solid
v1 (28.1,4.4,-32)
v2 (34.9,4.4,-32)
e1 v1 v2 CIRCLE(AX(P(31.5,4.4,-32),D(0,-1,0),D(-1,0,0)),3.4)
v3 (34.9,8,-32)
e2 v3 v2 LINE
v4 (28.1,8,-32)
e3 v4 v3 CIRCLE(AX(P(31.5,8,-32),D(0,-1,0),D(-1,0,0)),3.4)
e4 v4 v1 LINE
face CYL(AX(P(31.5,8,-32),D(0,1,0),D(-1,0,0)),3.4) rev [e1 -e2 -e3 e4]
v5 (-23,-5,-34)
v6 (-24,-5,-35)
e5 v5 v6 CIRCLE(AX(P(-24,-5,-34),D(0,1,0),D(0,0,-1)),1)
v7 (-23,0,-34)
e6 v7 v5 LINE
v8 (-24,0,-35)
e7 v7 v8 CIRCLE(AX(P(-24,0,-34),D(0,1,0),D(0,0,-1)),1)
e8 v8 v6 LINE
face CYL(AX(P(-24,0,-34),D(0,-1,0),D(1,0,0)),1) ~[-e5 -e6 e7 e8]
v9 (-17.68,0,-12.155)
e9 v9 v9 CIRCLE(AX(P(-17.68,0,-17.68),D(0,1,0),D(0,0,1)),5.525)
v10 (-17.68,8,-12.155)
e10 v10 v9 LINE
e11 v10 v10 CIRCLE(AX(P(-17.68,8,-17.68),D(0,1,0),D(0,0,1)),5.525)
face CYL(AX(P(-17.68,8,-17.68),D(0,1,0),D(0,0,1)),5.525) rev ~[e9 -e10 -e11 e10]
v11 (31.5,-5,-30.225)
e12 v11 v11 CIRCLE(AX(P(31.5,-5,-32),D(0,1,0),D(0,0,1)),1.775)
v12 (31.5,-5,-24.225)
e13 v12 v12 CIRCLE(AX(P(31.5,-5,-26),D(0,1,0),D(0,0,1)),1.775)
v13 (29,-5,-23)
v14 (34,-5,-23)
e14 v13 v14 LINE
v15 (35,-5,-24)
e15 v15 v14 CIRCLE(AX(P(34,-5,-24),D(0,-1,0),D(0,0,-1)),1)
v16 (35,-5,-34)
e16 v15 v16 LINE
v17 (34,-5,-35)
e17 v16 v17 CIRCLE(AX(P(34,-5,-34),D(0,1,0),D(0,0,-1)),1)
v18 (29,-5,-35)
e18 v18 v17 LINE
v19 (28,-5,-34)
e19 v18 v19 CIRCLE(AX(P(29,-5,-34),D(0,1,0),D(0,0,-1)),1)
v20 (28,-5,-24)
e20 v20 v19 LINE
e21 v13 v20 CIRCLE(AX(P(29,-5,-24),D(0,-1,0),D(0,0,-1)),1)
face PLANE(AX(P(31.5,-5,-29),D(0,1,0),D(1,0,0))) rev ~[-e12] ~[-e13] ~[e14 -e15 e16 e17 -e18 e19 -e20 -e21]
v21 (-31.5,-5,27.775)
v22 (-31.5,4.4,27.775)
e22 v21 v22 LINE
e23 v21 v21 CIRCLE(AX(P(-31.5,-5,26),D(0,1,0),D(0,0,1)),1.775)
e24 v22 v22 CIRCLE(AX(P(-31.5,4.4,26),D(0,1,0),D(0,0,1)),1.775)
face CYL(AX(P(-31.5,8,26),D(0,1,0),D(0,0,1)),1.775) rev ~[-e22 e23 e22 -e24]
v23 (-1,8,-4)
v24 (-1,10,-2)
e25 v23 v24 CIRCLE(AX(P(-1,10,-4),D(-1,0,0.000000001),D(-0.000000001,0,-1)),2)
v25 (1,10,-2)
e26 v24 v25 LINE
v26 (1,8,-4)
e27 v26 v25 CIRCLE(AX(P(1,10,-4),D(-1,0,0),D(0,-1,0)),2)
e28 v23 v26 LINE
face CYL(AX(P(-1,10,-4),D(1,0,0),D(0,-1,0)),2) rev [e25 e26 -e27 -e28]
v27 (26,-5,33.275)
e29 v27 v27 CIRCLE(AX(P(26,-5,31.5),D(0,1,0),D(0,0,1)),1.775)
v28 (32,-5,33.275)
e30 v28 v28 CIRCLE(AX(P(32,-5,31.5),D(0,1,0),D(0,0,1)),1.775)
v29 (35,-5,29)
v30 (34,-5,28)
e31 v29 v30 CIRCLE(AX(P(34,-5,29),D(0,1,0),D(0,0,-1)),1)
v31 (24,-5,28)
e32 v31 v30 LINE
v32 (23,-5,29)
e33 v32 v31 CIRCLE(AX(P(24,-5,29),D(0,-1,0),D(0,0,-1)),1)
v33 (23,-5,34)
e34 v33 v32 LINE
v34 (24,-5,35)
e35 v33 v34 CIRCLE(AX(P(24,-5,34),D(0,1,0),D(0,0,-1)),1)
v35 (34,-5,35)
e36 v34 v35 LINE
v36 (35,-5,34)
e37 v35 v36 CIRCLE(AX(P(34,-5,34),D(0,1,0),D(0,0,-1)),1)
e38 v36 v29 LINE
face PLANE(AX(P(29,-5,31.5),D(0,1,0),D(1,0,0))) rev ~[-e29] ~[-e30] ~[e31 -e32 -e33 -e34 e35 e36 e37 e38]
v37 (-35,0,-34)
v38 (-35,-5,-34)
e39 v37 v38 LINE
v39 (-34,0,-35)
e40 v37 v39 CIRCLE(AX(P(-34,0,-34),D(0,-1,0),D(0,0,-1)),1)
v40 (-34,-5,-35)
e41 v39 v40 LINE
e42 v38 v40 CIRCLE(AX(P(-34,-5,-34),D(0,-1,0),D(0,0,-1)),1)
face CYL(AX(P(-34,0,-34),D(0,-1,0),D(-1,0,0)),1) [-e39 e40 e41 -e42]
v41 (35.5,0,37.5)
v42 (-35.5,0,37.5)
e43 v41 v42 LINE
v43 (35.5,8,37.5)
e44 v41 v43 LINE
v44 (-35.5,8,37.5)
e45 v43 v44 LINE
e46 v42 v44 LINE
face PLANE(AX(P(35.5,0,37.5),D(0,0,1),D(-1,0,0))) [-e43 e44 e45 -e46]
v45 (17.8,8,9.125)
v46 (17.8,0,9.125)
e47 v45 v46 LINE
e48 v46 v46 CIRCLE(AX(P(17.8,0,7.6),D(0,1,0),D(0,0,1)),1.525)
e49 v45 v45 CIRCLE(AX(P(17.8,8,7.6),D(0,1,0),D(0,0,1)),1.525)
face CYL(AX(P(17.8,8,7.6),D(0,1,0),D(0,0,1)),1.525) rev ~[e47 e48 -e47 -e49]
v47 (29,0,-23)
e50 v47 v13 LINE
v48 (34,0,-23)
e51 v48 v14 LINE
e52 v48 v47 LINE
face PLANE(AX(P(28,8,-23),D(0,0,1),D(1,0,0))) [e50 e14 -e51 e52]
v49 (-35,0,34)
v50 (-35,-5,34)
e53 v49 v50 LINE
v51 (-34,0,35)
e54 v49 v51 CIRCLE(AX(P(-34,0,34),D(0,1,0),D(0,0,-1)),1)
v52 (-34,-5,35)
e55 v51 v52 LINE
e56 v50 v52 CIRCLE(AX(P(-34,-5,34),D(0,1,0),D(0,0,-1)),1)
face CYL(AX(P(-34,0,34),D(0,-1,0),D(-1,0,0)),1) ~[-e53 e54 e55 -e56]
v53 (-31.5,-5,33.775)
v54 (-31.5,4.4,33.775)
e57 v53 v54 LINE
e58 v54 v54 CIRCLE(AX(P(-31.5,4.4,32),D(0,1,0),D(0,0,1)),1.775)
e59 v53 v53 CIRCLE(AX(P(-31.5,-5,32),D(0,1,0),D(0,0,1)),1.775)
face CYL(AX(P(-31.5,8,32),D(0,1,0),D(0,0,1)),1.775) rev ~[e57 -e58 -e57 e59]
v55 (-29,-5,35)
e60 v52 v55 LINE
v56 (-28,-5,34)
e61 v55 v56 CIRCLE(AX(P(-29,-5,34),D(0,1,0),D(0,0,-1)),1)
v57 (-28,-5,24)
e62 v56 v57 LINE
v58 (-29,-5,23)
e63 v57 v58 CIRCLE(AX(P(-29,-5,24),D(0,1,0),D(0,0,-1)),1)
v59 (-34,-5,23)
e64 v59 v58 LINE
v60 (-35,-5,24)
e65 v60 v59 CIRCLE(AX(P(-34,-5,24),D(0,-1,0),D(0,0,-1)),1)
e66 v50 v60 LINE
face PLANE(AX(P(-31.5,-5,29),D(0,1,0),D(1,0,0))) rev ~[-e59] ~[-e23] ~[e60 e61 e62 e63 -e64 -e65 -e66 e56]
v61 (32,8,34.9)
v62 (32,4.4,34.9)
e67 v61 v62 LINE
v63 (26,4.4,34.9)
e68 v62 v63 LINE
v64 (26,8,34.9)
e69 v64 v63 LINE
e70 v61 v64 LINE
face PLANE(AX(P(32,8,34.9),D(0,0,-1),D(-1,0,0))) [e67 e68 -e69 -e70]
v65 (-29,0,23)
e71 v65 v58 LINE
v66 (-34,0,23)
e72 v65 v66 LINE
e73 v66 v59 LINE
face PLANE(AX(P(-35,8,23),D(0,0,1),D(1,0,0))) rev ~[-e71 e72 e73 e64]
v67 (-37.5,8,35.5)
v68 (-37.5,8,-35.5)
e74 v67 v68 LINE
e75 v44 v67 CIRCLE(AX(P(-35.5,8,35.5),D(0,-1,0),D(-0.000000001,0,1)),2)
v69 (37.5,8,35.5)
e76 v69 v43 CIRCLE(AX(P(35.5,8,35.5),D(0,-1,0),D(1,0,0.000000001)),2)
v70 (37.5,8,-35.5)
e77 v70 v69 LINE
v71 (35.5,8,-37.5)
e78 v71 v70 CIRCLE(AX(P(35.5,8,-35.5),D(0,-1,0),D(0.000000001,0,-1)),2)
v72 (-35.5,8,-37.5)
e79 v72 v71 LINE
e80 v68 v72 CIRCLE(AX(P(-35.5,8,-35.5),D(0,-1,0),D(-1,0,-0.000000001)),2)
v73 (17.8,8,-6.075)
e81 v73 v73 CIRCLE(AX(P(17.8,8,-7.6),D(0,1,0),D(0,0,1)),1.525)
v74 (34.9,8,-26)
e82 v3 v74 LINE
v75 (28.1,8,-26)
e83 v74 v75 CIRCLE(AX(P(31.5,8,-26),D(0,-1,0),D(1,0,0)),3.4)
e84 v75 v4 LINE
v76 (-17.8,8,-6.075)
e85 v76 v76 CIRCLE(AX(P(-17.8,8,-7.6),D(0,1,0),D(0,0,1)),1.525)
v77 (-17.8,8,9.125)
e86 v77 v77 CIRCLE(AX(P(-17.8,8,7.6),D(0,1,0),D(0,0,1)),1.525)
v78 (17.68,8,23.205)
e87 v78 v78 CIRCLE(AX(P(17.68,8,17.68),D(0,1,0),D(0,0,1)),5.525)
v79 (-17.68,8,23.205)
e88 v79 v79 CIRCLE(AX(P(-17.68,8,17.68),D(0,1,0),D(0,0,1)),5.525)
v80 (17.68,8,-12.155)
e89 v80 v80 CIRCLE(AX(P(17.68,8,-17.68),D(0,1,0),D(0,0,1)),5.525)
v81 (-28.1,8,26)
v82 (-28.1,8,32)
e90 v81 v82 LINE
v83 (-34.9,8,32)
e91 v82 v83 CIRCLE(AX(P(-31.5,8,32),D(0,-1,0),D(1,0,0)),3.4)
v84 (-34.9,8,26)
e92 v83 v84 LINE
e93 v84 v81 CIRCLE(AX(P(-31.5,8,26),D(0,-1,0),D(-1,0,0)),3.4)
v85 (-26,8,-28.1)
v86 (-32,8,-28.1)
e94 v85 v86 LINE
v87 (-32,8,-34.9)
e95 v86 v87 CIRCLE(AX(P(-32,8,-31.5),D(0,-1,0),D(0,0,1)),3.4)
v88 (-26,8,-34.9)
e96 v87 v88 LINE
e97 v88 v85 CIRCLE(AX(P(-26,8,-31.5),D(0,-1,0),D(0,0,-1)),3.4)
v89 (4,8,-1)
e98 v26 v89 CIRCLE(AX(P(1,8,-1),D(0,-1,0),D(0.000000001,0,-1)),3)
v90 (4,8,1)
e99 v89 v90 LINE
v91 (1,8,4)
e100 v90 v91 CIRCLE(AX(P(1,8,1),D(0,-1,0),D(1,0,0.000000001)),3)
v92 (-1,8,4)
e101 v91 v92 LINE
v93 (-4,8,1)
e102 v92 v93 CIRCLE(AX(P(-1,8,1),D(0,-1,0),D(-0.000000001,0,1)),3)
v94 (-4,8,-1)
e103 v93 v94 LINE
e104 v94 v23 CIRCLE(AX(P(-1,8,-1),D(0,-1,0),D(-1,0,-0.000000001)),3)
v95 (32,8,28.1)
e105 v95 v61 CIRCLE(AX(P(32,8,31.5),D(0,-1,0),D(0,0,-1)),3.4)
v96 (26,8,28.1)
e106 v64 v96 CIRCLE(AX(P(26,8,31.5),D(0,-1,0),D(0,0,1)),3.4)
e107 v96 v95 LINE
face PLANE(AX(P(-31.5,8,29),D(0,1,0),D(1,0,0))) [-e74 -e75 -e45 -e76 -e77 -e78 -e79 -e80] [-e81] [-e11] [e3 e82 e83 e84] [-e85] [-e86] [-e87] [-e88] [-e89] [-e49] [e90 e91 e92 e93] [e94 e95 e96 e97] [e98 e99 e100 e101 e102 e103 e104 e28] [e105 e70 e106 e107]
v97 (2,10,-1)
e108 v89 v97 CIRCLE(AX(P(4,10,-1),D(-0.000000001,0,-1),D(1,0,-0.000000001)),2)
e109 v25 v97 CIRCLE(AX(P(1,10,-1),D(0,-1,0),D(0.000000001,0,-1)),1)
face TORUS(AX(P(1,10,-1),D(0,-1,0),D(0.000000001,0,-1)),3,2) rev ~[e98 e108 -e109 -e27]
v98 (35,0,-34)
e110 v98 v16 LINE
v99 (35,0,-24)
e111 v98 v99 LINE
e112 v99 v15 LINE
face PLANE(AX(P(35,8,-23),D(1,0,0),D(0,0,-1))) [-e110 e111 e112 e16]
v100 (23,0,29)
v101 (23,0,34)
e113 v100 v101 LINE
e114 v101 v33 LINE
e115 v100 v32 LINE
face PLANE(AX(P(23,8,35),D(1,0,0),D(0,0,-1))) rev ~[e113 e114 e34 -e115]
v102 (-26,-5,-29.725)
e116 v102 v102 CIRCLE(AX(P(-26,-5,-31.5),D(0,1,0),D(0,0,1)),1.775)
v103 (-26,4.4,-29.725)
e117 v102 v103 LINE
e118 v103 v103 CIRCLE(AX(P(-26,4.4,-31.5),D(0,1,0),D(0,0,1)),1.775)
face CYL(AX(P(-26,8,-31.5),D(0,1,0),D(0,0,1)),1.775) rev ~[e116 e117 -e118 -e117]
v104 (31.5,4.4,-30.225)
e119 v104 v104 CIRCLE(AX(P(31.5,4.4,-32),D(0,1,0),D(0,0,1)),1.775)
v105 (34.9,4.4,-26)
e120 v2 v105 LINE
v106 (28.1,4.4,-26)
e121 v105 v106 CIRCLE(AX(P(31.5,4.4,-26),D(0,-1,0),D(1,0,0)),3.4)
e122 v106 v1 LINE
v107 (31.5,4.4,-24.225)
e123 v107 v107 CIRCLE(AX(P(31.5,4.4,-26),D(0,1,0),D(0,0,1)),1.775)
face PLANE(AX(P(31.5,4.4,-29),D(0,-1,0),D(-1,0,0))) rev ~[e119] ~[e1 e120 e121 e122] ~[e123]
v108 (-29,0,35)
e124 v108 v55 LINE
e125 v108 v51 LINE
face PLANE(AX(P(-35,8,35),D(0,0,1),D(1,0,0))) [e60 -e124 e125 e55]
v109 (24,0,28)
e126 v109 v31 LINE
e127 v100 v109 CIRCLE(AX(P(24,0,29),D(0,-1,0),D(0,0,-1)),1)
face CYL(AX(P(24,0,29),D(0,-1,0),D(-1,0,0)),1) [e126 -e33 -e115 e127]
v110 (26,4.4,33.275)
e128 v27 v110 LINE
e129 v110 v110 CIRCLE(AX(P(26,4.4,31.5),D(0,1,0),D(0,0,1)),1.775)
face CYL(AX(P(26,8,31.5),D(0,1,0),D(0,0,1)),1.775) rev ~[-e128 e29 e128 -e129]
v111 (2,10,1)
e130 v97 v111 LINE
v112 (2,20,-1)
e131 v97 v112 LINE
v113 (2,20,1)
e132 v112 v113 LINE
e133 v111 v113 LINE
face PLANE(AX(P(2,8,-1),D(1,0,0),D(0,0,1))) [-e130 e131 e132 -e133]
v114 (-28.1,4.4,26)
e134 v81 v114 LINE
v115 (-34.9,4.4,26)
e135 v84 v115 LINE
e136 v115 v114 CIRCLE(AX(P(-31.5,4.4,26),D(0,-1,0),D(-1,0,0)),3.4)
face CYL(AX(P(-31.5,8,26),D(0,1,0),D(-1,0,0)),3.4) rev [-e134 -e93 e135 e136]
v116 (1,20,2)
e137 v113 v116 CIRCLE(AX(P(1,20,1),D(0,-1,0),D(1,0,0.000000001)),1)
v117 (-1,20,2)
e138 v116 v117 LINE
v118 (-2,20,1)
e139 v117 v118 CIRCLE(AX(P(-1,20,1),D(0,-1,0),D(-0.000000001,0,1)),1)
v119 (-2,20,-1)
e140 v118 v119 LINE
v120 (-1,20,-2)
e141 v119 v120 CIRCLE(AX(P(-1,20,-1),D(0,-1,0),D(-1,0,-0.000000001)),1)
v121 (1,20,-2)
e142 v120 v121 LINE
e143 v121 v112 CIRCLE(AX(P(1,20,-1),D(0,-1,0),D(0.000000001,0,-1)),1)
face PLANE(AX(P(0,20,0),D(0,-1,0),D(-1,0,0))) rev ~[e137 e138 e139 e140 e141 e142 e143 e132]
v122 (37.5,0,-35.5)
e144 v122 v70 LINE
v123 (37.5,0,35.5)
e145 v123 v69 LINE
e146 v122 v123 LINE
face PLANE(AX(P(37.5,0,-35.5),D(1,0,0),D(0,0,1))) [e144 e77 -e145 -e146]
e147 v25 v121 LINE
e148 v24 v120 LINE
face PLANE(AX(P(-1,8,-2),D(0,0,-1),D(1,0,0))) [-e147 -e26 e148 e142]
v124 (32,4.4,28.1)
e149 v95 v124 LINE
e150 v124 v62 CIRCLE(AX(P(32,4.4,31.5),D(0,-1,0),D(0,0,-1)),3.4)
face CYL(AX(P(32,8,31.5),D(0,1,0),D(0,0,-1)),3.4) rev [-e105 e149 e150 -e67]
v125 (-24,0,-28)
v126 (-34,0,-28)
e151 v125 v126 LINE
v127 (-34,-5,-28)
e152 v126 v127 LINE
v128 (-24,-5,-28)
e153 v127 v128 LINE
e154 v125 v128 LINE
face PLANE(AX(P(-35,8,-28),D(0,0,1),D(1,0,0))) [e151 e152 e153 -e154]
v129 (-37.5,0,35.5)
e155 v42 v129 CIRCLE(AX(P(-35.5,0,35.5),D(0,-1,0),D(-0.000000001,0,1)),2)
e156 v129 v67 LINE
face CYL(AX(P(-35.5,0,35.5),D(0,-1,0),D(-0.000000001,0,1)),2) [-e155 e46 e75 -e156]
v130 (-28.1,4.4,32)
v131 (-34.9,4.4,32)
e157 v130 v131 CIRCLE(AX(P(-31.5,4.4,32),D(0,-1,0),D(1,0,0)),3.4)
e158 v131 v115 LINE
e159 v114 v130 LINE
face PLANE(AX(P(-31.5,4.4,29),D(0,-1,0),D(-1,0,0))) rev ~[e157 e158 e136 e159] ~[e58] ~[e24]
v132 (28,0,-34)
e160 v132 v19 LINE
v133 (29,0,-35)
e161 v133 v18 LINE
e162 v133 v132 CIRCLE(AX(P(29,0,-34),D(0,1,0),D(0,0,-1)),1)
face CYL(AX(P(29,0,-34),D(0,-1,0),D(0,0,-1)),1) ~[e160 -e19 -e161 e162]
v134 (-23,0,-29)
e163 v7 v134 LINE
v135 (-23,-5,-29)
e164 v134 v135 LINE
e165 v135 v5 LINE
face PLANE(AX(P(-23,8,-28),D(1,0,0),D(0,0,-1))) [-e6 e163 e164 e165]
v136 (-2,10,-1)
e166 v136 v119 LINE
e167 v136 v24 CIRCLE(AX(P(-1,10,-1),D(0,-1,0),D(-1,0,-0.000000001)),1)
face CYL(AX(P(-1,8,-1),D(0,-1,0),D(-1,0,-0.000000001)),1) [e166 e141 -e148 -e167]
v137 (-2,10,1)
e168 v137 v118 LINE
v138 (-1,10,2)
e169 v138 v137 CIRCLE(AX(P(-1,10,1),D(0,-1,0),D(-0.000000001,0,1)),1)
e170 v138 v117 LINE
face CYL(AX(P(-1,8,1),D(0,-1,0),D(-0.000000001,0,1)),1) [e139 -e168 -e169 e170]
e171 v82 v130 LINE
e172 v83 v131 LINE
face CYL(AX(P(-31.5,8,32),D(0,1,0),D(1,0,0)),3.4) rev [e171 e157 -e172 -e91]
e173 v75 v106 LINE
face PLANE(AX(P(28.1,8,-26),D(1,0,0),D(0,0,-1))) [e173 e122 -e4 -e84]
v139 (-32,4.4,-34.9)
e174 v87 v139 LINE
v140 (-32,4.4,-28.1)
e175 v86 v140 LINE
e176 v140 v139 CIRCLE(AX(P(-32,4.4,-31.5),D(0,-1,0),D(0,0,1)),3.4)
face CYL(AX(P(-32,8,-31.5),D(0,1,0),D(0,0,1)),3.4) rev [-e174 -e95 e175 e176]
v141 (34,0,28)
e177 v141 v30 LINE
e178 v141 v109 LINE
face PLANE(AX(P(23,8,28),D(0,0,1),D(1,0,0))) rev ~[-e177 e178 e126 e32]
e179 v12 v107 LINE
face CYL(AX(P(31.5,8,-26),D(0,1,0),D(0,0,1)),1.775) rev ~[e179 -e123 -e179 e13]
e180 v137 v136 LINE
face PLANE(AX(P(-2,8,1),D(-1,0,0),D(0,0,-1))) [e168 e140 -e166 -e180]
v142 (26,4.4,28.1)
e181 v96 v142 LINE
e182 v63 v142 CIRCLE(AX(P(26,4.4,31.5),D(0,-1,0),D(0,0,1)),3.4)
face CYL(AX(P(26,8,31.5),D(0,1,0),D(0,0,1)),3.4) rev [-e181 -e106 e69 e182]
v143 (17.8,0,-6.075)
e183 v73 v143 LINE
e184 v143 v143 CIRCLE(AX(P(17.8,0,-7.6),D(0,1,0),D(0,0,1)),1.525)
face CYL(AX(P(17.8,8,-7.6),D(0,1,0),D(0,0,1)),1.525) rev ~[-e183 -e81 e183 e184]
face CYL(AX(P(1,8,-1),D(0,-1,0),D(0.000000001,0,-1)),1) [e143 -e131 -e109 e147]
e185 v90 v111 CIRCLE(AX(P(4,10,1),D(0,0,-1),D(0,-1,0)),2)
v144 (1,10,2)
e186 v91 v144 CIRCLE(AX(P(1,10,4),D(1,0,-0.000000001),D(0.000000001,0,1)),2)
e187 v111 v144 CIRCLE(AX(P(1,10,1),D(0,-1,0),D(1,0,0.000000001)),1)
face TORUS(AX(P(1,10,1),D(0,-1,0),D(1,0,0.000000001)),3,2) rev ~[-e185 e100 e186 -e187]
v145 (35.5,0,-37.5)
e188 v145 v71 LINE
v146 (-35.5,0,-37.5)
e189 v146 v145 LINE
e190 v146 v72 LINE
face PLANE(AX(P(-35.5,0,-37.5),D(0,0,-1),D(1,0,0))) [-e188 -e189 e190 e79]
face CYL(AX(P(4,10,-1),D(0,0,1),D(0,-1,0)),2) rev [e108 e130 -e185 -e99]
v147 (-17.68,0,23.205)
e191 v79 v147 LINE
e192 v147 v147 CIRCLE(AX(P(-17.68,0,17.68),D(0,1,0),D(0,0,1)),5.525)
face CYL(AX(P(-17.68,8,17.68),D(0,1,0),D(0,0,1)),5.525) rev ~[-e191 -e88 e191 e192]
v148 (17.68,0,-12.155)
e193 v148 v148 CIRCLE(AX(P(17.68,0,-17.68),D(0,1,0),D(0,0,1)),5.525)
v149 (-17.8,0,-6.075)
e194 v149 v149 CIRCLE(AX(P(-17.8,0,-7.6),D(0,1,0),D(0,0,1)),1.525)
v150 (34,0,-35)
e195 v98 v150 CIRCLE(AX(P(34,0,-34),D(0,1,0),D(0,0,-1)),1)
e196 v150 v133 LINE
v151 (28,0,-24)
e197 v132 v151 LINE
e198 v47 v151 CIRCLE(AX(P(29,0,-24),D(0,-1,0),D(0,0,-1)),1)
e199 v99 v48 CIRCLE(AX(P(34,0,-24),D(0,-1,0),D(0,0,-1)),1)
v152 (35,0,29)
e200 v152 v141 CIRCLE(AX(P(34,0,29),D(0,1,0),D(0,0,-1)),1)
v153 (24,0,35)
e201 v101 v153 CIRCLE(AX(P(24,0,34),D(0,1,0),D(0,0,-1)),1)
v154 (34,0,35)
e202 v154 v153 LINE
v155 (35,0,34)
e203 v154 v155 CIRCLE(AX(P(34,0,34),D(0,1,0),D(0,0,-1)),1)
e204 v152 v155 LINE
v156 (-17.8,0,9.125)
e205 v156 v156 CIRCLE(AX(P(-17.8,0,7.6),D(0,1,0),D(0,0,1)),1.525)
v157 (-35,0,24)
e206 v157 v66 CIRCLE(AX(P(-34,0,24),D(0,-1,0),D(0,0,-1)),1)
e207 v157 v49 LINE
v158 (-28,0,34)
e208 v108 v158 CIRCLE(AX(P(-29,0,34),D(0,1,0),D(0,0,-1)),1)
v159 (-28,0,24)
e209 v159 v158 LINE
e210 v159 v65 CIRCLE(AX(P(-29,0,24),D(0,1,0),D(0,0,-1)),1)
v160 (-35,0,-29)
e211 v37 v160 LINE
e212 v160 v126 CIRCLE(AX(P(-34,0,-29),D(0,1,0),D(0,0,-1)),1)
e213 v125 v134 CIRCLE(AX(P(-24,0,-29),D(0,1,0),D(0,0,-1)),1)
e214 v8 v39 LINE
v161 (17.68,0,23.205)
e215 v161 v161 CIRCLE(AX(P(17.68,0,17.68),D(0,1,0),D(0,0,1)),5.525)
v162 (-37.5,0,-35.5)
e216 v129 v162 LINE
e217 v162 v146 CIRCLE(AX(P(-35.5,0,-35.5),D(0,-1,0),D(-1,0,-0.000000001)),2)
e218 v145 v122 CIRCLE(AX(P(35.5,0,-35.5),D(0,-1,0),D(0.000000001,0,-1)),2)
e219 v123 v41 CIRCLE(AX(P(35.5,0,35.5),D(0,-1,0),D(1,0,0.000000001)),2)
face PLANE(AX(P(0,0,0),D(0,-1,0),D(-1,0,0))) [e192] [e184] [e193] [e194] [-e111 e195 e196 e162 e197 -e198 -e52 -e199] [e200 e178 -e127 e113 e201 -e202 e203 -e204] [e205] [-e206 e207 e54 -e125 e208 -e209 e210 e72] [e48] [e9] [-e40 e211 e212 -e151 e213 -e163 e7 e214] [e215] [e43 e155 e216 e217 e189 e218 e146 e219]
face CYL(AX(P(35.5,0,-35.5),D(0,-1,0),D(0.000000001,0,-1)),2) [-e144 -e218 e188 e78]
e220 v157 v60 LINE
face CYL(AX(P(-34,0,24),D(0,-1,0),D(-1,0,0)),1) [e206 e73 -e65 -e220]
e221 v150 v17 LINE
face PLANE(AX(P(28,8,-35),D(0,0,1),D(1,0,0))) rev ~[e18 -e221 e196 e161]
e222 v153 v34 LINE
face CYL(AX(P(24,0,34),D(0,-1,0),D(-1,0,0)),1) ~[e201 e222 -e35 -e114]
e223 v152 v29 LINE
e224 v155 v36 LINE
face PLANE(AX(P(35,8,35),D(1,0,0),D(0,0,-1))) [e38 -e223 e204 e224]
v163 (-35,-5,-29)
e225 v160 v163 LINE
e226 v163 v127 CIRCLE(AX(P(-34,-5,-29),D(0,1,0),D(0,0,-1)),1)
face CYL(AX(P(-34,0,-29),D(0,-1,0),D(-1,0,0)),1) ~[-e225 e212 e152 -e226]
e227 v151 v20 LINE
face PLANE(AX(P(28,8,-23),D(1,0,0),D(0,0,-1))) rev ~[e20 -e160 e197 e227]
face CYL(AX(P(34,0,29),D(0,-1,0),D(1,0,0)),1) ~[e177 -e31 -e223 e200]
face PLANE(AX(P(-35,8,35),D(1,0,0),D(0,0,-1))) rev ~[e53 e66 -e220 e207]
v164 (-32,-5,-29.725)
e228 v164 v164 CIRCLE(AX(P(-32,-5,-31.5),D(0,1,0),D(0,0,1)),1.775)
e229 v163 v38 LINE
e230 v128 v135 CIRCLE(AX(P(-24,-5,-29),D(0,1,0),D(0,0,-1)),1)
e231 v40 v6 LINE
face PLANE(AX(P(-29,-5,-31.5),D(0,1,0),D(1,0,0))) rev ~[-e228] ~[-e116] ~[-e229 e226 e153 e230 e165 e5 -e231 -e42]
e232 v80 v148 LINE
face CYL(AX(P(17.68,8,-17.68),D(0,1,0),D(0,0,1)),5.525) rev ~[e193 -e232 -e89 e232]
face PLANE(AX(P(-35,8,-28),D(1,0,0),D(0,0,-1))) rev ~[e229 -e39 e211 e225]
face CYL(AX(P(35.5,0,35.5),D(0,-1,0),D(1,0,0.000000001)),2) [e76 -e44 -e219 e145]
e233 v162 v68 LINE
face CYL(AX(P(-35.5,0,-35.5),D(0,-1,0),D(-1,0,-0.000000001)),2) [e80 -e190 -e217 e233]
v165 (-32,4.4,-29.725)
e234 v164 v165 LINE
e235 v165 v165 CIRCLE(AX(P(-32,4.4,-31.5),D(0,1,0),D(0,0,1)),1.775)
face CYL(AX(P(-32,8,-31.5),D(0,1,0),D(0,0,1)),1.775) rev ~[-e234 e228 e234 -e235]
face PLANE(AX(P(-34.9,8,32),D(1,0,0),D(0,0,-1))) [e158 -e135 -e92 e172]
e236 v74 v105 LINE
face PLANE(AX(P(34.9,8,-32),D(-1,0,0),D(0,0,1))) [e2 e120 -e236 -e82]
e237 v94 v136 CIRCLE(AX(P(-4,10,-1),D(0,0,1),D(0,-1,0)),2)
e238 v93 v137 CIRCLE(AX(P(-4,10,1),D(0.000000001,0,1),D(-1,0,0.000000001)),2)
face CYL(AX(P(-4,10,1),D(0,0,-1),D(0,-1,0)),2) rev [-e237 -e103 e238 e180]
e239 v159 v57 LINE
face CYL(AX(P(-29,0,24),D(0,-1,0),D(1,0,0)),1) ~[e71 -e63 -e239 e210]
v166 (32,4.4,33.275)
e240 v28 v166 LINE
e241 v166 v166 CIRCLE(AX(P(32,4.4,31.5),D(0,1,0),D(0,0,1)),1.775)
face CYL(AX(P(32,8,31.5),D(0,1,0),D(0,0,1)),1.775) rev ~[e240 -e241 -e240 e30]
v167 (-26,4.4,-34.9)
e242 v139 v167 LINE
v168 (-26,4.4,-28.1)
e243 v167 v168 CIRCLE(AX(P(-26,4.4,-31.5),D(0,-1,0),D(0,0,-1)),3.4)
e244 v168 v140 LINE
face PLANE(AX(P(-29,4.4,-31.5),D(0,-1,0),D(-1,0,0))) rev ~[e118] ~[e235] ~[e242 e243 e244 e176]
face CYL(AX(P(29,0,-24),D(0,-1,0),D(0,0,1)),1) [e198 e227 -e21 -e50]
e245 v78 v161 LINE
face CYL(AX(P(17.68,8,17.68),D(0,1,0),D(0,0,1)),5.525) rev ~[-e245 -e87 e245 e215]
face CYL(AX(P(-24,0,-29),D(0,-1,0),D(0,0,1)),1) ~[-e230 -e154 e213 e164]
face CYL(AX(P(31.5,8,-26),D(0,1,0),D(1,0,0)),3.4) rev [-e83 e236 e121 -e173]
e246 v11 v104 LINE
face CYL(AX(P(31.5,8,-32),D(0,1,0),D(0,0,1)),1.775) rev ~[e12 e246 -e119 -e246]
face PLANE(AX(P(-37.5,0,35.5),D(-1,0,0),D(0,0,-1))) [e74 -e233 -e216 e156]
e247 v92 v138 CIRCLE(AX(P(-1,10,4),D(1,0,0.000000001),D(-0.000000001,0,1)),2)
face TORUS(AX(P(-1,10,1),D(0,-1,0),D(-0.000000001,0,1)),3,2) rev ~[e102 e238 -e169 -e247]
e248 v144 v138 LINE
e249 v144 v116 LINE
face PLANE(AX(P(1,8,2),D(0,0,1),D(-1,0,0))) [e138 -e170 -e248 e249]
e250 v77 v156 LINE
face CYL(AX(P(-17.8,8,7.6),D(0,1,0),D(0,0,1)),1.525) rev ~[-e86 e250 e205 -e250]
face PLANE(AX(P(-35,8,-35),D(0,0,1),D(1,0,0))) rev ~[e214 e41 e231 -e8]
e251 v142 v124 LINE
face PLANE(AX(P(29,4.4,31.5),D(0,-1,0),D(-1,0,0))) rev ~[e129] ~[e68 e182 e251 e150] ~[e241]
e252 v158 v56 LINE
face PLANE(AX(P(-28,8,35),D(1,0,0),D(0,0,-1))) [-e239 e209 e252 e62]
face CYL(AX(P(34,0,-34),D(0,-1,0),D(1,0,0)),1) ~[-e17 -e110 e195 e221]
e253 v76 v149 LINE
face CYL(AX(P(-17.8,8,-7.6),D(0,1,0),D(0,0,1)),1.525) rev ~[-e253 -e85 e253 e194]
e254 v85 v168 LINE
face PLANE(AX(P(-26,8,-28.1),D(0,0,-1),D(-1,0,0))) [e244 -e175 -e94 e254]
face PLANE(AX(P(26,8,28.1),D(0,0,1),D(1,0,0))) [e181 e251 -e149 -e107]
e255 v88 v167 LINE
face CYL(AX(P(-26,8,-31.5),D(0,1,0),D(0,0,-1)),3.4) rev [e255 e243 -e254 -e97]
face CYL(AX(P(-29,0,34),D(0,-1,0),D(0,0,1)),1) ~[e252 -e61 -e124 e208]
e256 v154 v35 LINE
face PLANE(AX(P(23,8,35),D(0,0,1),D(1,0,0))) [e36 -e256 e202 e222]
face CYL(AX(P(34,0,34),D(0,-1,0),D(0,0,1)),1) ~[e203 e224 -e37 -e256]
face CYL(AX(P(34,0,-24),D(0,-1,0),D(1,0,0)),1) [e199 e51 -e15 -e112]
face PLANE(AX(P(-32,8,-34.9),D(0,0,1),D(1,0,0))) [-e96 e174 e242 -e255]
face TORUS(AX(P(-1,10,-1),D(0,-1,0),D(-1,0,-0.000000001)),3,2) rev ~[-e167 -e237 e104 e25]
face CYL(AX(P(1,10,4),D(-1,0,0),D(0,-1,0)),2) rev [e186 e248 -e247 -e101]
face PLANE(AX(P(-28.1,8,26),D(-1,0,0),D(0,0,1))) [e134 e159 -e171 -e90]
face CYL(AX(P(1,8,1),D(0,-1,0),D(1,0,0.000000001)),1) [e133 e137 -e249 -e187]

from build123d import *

# Parameters (mm, degrees)
BOSS_EXTRUDE1_DEPTH = 8
SKETCH2_W           = 7
SKETCH2_H           = 12
SKETCH2_R           = 1.775
SKETCH2_W_2         = 12
SKETCH2_H_2         = 7
BOSS_EXTRUDE2_DEPTH = 13
SKETCH7_R           = 1.775
CUT_EXTRUDE1_DEPTH  = 55.603113464
FILLET1_R           = 1
SKETCH9_R           = 1.525
CUT_EXTRUDE3_DEPTH  = 55.603113464
CUT_EXTRUDE4_DEPTH  = 3.6
SKETCH12_R          = 5.525
CUT_EXTRUDE5_DEPTH  = 55.603113464
BOSS_EXTRUDE3_DEPTH = 12
FILLET2_R           = 2


with BuildPart() as part:
    # Sketch1 → Boss-Extrude1 (new body)
    with BuildSketch(Plane(origin=(0, 0, 0), x_dir=(1, 0, 0), z_dir=(0, 1, 0))):
        with BuildLine():
            Line((35.5, -37.5), (-35.5, -37.5))
            ThreePointArc((-35.5, -37.5), (-36.914213562, -36.914213562), (-37.5, -35.5))
            Line((-37.5, -35.5), (-37.5, 35.5))
            ThreePointArc((-37.5, 35.5), (-36.914213562, 36.914213562), (-35.5, 37.5))
            Line((-35.5, 37.5), (35.5, 37.5))
            ThreePointArc((35.5, 37.5), (36.914213562, 36.914213562), (37.5, 35.5))
            Line((37.5, 35.5), (37.5, -35.5))
            ThreePointArc((37.5, -35.5), (36.914213562, -36.914213562), (35.5, -37.5))
        make_face()
    extrude(amount=BOSS_EXTRUDE1_DEPTH)

    # Sketch2 → Boss-Extrude2 (add)
    # profile 1 of 4: a face of its own
    with BuildSketch(Plane(origin=(0, 8, 0), x_dir=(1, 0, 0), z_dir=(0, 1, 0))):
        with Locations((-31.5, -29)):
            Rectangle(SKETCH2_W, SKETCH2_H)
        with Locations(Location((-31.5, -26, 0), (0, 0, 270))):
            Circle(SKETCH2_R, mode=Mode.SUBTRACT)
        with Locations(Location((-31.5, -32, 0), (0, 0, 270))):
            Circle(SKETCH2_R, mode=Mode.SUBTRACT)
    # profile 2 of 4: a face of its own
    with BuildSketch(Plane(origin=(0, 8, 0), x_dir=(1, 0, 0), z_dir=(0, 1, 0))):
        with Locations((29, -31.5)):
            Rectangle(SKETCH2_W_2, SKETCH2_H_2)
        with Locations(Location((26, -31.5, 0), (0, 0, 270))):
            Circle(SKETCH2_R, mode=Mode.SUBTRACT)
        with Locations(Location((32, -31.5, 0), (0, 0, 270))):
            Circle(SKETCH2_R, mode=Mode.SUBTRACT)
    # profile 3 of 4: a face of its own
    with BuildSketch(Plane(origin=(0, 8, 0), x_dir=(1, 0, 0), z_dir=(0, 1, 0))):
        with Locations((31.5, 29)):
            Rectangle(SKETCH2_W, SKETCH2_H)
        with Locations(Location((31.5, 26, 0), (0, 0, 270))):
            Circle(SKETCH2_R, mode=Mode.SUBTRACT)
        with Locations(Location((31.5, 32, 0), (0, 0, 270))):
            Circle(SKETCH2_R, mode=Mode.SUBTRACT)
    # profile 4 of 4: a face of its own
    with BuildSketch(Plane(origin=(0, 8, 0), x_dir=(1, 0, 0), z_dir=(0, 1, 0))):
        with Locations((-29, 31.5)):
            Rectangle(SKETCH2_W_2, SKETCH2_H_2)
        with Locations(Location((-26, 31.5, 0), (0, 0, 270))):
            Circle(SKETCH2_R, mode=Mode.SUBTRACT)
        with Locations(Location((-32, 31.5, 0), (0, 0, 270))):
            Circle(SKETCH2_R, mode=Mode.SUBTRACT)
    extrude(amount=-BOSS_EXTRUDE2_DEPTH)

    # Sketch7 → Cut-Extrude1 (cut, through all)
    with BuildSketch(Plane(origin=(0, 8, 0), x_dir=(1, 0, 0), z_dir=(0, 1, 0))):
        with Locations(Location((32, -31.5, 0), (0, 0, 270))):
            Circle(SKETCH7_R)
        with Locations(Location((26, -31.5, 0), (0, 0, 270))):
            Circle(SKETCH7_R)
        with Locations(Location((-31.5, -32, 0), (0, 0, 270))):
            Circle(SKETCH7_R)
        with Locations(Location((-31.5, -26, 0), (0, 0, 270))):
            Circle(SKETCH7_R)
        with Locations(Location((31.5, 26, 0), (0, 0, 270))):
            Circle(SKETCH7_R)
        with Locations(Location((31.5, 32, 0), (0, 0, 270))):
            Circle(SKETCH7_R)
        with Locations(Location((-26, 31.5, 0), (0, 0, 270))):
            Circle(SKETCH7_R)
        with Locations(Location((-32, 31.5, 0), (0, 0, 270))):
            Circle(SKETCH7_R)
    extrude(amount=-CUT_EXTRUDE1_DEPTH, mode=Mode.SUBTRACT)

    # Fillet1
    fillet1_edges = [part.edges().sort_by_distance(p)[0] for p in [
        (35, -2.5, -35),
        (35, -2.5, -23),
        (28, -2.5, -23),
        (28, -2.5, -35),
        (35, -2.5, 28),
        (35, -2.5, 35),
        (23, -2.5, 35),
        (23, -2.5, 28),
        (-35, -2.5, 35),
        (-35, -2.5, 23),
        (-28, -2.5, 23),
        (-28, -2.5, 35),
        (-35, -2.5, -28),
        (-35, -2.5, -35),
        (-23, -2.5, -35),
        (-23, -2.5, -28),
    ]]
    fillet(fillet1_edges, radius=FILLET1_R)

    # Sketch9 → Cut-Extrude3 (cut, through all)
    with BuildSketch(Plane(origin=(0, 8, 0), x_dir=(1, 0, 0), z_dir=(0, 1, 0))):
        with Locations(Location((-17.8, 7.6, 0), (0, 0, 270))):
            Circle(SKETCH9_R)
        with Locations(Location((17.8, 7.6, 0), (0, 0, 270))):
            Circle(SKETCH9_R)
        with Locations(Location((-17.8, -7.6, 0), (0, 0, 270))):
            Circle(SKETCH9_R)
        with Locations(Location((17.8, -7.6, 0), (0, 0, 270))):
            Circle(SKETCH9_R)
    extrude(amount=-CUT_EXTRUDE3_DEPTH, mode=Mode.SUBTRACT)

    # Sketch11 → Cut-Extrude4 (cut)
    with BuildSketch(Plane(origin=(0, 8, 0), x_dir=(1, 0, 0), z_dir=(0, 1, 0))):
        with BuildLine():
            Line((-32, 34.9), (-26, 34.9))
            ThreePointArc((-26, 34.9), (-22.6, 31.5), (-26, 28.1))
            Line((-26, 28.1), (-32, 28.1))
            ThreePointArc((-32, 28.1), (-35.4, 31.5), (-32, 34.9))
        make_face()
        with BuildLine():
            Line((-28.1, -26), (-28.1, -32))
            ThreePointArc((-28.1, -32), (-31.5, -35.4), (-34.9, -32))
            Line((-34.9, -32), (-34.9, -26))
            ThreePointArc((-34.9, -26), (-31.5, -22.6), (-28.1, -26))
        make_face()
        with BuildLine():
            Line((26, -28.1), (32, -28.1))
            ThreePointArc((32, -28.1), (35.4, -31.5), (32, -34.9))
            Line((32, -34.9), (26, -34.9))
            ThreePointArc((26, -34.9), (22.6, -31.5), (26, -28.1))
        make_face()
        with BuildLine():
            Line((34.9, 32), (34.9, 26))
            ThreePointArc((34.9, 26), (31.5, 22.6), (28.1, 26))
            Line((28.1, 26), (28.1, 32))
            ThreePointArc((28.1, 32), (31.5, 35.4), (34.9, 32))
        make_face()
    extrude(amount=-CUT_EXTRUDE4_DEPTH, mode=Mode.SUBTRACT)

    # Sketch12 → Cut-Extrude5 (cut, through all)
    with BuildSketch(Plane(origin=(0, 8, 0), x_dir=(1, 0, 0), z_dir=(0, 1, 0))):
        with Locations(Location((-17.68, 17.68, 0), (0, 0, 270))):
            Circle(SKETCH12_R)
        with Locations(Location((-17.68, -17.68, 0), (0, 0, 270))):
            Circle(SKETCH12_R)
        with Locations(Location((17.68, -17.68, 0), (0, 0, 270))):
            Circle(SKETCH12_R)
        with Locations(Location((17.68, 17.68, 0), (0, 0, 270))):
            Circle(SKETCH12_R)
    extrude(amount=-CUT_EXTRUDE5_DEPTH, mode=Mode.SUBTRACT)

    # Sketch13 → Boss-Extrude3 (add)
    with BuildSketch(Plane(origin=(0, 8, 0), x_dir=(1, 0, 0), z_dir=(0, 1, 0))):
        with BuildLine():
            Line((1, -2), (-1, -2))
            ThreePointArc((-1, -2), (-1.707106781, -1.707106781), (-2, -1))
            Line((-2, -1), (-2, 1))
            ThreePointArc((-2, 1), (-1.707106781, 1.707106781), (-1, 2))
            Line((-1, 2), (1, 2))
            ThreePointArc((1, 2), (1.707106781, 1.707106781), (2, 1))
            Line((2, 1), (2, -1))
            ThreePointArc((2, -1), (1.707106781, -1.707106781), (1, -2))
        make_face()
    extrude(amount=BOSS_EXTRUDE3_DEPTH)

    # Fillet2
    fillet2_edges = [part.edges().sort_by_distance(p)[0] for p in [
        (-1.707106781, 8, 1.707106781),
        (0, 8, 2),
        (1.707106781, 8, 1.707106781),
        (2, 8, 0),
        (1.707106781, 8, -1.707106781),
        (0, 8, -2),
        (-1.707106781, 8, -1.707106781),
        (-2, 8, 0),
    ]]
    fillet(fillet2_edges, radius=FILLET2_R)


solid = part.part
